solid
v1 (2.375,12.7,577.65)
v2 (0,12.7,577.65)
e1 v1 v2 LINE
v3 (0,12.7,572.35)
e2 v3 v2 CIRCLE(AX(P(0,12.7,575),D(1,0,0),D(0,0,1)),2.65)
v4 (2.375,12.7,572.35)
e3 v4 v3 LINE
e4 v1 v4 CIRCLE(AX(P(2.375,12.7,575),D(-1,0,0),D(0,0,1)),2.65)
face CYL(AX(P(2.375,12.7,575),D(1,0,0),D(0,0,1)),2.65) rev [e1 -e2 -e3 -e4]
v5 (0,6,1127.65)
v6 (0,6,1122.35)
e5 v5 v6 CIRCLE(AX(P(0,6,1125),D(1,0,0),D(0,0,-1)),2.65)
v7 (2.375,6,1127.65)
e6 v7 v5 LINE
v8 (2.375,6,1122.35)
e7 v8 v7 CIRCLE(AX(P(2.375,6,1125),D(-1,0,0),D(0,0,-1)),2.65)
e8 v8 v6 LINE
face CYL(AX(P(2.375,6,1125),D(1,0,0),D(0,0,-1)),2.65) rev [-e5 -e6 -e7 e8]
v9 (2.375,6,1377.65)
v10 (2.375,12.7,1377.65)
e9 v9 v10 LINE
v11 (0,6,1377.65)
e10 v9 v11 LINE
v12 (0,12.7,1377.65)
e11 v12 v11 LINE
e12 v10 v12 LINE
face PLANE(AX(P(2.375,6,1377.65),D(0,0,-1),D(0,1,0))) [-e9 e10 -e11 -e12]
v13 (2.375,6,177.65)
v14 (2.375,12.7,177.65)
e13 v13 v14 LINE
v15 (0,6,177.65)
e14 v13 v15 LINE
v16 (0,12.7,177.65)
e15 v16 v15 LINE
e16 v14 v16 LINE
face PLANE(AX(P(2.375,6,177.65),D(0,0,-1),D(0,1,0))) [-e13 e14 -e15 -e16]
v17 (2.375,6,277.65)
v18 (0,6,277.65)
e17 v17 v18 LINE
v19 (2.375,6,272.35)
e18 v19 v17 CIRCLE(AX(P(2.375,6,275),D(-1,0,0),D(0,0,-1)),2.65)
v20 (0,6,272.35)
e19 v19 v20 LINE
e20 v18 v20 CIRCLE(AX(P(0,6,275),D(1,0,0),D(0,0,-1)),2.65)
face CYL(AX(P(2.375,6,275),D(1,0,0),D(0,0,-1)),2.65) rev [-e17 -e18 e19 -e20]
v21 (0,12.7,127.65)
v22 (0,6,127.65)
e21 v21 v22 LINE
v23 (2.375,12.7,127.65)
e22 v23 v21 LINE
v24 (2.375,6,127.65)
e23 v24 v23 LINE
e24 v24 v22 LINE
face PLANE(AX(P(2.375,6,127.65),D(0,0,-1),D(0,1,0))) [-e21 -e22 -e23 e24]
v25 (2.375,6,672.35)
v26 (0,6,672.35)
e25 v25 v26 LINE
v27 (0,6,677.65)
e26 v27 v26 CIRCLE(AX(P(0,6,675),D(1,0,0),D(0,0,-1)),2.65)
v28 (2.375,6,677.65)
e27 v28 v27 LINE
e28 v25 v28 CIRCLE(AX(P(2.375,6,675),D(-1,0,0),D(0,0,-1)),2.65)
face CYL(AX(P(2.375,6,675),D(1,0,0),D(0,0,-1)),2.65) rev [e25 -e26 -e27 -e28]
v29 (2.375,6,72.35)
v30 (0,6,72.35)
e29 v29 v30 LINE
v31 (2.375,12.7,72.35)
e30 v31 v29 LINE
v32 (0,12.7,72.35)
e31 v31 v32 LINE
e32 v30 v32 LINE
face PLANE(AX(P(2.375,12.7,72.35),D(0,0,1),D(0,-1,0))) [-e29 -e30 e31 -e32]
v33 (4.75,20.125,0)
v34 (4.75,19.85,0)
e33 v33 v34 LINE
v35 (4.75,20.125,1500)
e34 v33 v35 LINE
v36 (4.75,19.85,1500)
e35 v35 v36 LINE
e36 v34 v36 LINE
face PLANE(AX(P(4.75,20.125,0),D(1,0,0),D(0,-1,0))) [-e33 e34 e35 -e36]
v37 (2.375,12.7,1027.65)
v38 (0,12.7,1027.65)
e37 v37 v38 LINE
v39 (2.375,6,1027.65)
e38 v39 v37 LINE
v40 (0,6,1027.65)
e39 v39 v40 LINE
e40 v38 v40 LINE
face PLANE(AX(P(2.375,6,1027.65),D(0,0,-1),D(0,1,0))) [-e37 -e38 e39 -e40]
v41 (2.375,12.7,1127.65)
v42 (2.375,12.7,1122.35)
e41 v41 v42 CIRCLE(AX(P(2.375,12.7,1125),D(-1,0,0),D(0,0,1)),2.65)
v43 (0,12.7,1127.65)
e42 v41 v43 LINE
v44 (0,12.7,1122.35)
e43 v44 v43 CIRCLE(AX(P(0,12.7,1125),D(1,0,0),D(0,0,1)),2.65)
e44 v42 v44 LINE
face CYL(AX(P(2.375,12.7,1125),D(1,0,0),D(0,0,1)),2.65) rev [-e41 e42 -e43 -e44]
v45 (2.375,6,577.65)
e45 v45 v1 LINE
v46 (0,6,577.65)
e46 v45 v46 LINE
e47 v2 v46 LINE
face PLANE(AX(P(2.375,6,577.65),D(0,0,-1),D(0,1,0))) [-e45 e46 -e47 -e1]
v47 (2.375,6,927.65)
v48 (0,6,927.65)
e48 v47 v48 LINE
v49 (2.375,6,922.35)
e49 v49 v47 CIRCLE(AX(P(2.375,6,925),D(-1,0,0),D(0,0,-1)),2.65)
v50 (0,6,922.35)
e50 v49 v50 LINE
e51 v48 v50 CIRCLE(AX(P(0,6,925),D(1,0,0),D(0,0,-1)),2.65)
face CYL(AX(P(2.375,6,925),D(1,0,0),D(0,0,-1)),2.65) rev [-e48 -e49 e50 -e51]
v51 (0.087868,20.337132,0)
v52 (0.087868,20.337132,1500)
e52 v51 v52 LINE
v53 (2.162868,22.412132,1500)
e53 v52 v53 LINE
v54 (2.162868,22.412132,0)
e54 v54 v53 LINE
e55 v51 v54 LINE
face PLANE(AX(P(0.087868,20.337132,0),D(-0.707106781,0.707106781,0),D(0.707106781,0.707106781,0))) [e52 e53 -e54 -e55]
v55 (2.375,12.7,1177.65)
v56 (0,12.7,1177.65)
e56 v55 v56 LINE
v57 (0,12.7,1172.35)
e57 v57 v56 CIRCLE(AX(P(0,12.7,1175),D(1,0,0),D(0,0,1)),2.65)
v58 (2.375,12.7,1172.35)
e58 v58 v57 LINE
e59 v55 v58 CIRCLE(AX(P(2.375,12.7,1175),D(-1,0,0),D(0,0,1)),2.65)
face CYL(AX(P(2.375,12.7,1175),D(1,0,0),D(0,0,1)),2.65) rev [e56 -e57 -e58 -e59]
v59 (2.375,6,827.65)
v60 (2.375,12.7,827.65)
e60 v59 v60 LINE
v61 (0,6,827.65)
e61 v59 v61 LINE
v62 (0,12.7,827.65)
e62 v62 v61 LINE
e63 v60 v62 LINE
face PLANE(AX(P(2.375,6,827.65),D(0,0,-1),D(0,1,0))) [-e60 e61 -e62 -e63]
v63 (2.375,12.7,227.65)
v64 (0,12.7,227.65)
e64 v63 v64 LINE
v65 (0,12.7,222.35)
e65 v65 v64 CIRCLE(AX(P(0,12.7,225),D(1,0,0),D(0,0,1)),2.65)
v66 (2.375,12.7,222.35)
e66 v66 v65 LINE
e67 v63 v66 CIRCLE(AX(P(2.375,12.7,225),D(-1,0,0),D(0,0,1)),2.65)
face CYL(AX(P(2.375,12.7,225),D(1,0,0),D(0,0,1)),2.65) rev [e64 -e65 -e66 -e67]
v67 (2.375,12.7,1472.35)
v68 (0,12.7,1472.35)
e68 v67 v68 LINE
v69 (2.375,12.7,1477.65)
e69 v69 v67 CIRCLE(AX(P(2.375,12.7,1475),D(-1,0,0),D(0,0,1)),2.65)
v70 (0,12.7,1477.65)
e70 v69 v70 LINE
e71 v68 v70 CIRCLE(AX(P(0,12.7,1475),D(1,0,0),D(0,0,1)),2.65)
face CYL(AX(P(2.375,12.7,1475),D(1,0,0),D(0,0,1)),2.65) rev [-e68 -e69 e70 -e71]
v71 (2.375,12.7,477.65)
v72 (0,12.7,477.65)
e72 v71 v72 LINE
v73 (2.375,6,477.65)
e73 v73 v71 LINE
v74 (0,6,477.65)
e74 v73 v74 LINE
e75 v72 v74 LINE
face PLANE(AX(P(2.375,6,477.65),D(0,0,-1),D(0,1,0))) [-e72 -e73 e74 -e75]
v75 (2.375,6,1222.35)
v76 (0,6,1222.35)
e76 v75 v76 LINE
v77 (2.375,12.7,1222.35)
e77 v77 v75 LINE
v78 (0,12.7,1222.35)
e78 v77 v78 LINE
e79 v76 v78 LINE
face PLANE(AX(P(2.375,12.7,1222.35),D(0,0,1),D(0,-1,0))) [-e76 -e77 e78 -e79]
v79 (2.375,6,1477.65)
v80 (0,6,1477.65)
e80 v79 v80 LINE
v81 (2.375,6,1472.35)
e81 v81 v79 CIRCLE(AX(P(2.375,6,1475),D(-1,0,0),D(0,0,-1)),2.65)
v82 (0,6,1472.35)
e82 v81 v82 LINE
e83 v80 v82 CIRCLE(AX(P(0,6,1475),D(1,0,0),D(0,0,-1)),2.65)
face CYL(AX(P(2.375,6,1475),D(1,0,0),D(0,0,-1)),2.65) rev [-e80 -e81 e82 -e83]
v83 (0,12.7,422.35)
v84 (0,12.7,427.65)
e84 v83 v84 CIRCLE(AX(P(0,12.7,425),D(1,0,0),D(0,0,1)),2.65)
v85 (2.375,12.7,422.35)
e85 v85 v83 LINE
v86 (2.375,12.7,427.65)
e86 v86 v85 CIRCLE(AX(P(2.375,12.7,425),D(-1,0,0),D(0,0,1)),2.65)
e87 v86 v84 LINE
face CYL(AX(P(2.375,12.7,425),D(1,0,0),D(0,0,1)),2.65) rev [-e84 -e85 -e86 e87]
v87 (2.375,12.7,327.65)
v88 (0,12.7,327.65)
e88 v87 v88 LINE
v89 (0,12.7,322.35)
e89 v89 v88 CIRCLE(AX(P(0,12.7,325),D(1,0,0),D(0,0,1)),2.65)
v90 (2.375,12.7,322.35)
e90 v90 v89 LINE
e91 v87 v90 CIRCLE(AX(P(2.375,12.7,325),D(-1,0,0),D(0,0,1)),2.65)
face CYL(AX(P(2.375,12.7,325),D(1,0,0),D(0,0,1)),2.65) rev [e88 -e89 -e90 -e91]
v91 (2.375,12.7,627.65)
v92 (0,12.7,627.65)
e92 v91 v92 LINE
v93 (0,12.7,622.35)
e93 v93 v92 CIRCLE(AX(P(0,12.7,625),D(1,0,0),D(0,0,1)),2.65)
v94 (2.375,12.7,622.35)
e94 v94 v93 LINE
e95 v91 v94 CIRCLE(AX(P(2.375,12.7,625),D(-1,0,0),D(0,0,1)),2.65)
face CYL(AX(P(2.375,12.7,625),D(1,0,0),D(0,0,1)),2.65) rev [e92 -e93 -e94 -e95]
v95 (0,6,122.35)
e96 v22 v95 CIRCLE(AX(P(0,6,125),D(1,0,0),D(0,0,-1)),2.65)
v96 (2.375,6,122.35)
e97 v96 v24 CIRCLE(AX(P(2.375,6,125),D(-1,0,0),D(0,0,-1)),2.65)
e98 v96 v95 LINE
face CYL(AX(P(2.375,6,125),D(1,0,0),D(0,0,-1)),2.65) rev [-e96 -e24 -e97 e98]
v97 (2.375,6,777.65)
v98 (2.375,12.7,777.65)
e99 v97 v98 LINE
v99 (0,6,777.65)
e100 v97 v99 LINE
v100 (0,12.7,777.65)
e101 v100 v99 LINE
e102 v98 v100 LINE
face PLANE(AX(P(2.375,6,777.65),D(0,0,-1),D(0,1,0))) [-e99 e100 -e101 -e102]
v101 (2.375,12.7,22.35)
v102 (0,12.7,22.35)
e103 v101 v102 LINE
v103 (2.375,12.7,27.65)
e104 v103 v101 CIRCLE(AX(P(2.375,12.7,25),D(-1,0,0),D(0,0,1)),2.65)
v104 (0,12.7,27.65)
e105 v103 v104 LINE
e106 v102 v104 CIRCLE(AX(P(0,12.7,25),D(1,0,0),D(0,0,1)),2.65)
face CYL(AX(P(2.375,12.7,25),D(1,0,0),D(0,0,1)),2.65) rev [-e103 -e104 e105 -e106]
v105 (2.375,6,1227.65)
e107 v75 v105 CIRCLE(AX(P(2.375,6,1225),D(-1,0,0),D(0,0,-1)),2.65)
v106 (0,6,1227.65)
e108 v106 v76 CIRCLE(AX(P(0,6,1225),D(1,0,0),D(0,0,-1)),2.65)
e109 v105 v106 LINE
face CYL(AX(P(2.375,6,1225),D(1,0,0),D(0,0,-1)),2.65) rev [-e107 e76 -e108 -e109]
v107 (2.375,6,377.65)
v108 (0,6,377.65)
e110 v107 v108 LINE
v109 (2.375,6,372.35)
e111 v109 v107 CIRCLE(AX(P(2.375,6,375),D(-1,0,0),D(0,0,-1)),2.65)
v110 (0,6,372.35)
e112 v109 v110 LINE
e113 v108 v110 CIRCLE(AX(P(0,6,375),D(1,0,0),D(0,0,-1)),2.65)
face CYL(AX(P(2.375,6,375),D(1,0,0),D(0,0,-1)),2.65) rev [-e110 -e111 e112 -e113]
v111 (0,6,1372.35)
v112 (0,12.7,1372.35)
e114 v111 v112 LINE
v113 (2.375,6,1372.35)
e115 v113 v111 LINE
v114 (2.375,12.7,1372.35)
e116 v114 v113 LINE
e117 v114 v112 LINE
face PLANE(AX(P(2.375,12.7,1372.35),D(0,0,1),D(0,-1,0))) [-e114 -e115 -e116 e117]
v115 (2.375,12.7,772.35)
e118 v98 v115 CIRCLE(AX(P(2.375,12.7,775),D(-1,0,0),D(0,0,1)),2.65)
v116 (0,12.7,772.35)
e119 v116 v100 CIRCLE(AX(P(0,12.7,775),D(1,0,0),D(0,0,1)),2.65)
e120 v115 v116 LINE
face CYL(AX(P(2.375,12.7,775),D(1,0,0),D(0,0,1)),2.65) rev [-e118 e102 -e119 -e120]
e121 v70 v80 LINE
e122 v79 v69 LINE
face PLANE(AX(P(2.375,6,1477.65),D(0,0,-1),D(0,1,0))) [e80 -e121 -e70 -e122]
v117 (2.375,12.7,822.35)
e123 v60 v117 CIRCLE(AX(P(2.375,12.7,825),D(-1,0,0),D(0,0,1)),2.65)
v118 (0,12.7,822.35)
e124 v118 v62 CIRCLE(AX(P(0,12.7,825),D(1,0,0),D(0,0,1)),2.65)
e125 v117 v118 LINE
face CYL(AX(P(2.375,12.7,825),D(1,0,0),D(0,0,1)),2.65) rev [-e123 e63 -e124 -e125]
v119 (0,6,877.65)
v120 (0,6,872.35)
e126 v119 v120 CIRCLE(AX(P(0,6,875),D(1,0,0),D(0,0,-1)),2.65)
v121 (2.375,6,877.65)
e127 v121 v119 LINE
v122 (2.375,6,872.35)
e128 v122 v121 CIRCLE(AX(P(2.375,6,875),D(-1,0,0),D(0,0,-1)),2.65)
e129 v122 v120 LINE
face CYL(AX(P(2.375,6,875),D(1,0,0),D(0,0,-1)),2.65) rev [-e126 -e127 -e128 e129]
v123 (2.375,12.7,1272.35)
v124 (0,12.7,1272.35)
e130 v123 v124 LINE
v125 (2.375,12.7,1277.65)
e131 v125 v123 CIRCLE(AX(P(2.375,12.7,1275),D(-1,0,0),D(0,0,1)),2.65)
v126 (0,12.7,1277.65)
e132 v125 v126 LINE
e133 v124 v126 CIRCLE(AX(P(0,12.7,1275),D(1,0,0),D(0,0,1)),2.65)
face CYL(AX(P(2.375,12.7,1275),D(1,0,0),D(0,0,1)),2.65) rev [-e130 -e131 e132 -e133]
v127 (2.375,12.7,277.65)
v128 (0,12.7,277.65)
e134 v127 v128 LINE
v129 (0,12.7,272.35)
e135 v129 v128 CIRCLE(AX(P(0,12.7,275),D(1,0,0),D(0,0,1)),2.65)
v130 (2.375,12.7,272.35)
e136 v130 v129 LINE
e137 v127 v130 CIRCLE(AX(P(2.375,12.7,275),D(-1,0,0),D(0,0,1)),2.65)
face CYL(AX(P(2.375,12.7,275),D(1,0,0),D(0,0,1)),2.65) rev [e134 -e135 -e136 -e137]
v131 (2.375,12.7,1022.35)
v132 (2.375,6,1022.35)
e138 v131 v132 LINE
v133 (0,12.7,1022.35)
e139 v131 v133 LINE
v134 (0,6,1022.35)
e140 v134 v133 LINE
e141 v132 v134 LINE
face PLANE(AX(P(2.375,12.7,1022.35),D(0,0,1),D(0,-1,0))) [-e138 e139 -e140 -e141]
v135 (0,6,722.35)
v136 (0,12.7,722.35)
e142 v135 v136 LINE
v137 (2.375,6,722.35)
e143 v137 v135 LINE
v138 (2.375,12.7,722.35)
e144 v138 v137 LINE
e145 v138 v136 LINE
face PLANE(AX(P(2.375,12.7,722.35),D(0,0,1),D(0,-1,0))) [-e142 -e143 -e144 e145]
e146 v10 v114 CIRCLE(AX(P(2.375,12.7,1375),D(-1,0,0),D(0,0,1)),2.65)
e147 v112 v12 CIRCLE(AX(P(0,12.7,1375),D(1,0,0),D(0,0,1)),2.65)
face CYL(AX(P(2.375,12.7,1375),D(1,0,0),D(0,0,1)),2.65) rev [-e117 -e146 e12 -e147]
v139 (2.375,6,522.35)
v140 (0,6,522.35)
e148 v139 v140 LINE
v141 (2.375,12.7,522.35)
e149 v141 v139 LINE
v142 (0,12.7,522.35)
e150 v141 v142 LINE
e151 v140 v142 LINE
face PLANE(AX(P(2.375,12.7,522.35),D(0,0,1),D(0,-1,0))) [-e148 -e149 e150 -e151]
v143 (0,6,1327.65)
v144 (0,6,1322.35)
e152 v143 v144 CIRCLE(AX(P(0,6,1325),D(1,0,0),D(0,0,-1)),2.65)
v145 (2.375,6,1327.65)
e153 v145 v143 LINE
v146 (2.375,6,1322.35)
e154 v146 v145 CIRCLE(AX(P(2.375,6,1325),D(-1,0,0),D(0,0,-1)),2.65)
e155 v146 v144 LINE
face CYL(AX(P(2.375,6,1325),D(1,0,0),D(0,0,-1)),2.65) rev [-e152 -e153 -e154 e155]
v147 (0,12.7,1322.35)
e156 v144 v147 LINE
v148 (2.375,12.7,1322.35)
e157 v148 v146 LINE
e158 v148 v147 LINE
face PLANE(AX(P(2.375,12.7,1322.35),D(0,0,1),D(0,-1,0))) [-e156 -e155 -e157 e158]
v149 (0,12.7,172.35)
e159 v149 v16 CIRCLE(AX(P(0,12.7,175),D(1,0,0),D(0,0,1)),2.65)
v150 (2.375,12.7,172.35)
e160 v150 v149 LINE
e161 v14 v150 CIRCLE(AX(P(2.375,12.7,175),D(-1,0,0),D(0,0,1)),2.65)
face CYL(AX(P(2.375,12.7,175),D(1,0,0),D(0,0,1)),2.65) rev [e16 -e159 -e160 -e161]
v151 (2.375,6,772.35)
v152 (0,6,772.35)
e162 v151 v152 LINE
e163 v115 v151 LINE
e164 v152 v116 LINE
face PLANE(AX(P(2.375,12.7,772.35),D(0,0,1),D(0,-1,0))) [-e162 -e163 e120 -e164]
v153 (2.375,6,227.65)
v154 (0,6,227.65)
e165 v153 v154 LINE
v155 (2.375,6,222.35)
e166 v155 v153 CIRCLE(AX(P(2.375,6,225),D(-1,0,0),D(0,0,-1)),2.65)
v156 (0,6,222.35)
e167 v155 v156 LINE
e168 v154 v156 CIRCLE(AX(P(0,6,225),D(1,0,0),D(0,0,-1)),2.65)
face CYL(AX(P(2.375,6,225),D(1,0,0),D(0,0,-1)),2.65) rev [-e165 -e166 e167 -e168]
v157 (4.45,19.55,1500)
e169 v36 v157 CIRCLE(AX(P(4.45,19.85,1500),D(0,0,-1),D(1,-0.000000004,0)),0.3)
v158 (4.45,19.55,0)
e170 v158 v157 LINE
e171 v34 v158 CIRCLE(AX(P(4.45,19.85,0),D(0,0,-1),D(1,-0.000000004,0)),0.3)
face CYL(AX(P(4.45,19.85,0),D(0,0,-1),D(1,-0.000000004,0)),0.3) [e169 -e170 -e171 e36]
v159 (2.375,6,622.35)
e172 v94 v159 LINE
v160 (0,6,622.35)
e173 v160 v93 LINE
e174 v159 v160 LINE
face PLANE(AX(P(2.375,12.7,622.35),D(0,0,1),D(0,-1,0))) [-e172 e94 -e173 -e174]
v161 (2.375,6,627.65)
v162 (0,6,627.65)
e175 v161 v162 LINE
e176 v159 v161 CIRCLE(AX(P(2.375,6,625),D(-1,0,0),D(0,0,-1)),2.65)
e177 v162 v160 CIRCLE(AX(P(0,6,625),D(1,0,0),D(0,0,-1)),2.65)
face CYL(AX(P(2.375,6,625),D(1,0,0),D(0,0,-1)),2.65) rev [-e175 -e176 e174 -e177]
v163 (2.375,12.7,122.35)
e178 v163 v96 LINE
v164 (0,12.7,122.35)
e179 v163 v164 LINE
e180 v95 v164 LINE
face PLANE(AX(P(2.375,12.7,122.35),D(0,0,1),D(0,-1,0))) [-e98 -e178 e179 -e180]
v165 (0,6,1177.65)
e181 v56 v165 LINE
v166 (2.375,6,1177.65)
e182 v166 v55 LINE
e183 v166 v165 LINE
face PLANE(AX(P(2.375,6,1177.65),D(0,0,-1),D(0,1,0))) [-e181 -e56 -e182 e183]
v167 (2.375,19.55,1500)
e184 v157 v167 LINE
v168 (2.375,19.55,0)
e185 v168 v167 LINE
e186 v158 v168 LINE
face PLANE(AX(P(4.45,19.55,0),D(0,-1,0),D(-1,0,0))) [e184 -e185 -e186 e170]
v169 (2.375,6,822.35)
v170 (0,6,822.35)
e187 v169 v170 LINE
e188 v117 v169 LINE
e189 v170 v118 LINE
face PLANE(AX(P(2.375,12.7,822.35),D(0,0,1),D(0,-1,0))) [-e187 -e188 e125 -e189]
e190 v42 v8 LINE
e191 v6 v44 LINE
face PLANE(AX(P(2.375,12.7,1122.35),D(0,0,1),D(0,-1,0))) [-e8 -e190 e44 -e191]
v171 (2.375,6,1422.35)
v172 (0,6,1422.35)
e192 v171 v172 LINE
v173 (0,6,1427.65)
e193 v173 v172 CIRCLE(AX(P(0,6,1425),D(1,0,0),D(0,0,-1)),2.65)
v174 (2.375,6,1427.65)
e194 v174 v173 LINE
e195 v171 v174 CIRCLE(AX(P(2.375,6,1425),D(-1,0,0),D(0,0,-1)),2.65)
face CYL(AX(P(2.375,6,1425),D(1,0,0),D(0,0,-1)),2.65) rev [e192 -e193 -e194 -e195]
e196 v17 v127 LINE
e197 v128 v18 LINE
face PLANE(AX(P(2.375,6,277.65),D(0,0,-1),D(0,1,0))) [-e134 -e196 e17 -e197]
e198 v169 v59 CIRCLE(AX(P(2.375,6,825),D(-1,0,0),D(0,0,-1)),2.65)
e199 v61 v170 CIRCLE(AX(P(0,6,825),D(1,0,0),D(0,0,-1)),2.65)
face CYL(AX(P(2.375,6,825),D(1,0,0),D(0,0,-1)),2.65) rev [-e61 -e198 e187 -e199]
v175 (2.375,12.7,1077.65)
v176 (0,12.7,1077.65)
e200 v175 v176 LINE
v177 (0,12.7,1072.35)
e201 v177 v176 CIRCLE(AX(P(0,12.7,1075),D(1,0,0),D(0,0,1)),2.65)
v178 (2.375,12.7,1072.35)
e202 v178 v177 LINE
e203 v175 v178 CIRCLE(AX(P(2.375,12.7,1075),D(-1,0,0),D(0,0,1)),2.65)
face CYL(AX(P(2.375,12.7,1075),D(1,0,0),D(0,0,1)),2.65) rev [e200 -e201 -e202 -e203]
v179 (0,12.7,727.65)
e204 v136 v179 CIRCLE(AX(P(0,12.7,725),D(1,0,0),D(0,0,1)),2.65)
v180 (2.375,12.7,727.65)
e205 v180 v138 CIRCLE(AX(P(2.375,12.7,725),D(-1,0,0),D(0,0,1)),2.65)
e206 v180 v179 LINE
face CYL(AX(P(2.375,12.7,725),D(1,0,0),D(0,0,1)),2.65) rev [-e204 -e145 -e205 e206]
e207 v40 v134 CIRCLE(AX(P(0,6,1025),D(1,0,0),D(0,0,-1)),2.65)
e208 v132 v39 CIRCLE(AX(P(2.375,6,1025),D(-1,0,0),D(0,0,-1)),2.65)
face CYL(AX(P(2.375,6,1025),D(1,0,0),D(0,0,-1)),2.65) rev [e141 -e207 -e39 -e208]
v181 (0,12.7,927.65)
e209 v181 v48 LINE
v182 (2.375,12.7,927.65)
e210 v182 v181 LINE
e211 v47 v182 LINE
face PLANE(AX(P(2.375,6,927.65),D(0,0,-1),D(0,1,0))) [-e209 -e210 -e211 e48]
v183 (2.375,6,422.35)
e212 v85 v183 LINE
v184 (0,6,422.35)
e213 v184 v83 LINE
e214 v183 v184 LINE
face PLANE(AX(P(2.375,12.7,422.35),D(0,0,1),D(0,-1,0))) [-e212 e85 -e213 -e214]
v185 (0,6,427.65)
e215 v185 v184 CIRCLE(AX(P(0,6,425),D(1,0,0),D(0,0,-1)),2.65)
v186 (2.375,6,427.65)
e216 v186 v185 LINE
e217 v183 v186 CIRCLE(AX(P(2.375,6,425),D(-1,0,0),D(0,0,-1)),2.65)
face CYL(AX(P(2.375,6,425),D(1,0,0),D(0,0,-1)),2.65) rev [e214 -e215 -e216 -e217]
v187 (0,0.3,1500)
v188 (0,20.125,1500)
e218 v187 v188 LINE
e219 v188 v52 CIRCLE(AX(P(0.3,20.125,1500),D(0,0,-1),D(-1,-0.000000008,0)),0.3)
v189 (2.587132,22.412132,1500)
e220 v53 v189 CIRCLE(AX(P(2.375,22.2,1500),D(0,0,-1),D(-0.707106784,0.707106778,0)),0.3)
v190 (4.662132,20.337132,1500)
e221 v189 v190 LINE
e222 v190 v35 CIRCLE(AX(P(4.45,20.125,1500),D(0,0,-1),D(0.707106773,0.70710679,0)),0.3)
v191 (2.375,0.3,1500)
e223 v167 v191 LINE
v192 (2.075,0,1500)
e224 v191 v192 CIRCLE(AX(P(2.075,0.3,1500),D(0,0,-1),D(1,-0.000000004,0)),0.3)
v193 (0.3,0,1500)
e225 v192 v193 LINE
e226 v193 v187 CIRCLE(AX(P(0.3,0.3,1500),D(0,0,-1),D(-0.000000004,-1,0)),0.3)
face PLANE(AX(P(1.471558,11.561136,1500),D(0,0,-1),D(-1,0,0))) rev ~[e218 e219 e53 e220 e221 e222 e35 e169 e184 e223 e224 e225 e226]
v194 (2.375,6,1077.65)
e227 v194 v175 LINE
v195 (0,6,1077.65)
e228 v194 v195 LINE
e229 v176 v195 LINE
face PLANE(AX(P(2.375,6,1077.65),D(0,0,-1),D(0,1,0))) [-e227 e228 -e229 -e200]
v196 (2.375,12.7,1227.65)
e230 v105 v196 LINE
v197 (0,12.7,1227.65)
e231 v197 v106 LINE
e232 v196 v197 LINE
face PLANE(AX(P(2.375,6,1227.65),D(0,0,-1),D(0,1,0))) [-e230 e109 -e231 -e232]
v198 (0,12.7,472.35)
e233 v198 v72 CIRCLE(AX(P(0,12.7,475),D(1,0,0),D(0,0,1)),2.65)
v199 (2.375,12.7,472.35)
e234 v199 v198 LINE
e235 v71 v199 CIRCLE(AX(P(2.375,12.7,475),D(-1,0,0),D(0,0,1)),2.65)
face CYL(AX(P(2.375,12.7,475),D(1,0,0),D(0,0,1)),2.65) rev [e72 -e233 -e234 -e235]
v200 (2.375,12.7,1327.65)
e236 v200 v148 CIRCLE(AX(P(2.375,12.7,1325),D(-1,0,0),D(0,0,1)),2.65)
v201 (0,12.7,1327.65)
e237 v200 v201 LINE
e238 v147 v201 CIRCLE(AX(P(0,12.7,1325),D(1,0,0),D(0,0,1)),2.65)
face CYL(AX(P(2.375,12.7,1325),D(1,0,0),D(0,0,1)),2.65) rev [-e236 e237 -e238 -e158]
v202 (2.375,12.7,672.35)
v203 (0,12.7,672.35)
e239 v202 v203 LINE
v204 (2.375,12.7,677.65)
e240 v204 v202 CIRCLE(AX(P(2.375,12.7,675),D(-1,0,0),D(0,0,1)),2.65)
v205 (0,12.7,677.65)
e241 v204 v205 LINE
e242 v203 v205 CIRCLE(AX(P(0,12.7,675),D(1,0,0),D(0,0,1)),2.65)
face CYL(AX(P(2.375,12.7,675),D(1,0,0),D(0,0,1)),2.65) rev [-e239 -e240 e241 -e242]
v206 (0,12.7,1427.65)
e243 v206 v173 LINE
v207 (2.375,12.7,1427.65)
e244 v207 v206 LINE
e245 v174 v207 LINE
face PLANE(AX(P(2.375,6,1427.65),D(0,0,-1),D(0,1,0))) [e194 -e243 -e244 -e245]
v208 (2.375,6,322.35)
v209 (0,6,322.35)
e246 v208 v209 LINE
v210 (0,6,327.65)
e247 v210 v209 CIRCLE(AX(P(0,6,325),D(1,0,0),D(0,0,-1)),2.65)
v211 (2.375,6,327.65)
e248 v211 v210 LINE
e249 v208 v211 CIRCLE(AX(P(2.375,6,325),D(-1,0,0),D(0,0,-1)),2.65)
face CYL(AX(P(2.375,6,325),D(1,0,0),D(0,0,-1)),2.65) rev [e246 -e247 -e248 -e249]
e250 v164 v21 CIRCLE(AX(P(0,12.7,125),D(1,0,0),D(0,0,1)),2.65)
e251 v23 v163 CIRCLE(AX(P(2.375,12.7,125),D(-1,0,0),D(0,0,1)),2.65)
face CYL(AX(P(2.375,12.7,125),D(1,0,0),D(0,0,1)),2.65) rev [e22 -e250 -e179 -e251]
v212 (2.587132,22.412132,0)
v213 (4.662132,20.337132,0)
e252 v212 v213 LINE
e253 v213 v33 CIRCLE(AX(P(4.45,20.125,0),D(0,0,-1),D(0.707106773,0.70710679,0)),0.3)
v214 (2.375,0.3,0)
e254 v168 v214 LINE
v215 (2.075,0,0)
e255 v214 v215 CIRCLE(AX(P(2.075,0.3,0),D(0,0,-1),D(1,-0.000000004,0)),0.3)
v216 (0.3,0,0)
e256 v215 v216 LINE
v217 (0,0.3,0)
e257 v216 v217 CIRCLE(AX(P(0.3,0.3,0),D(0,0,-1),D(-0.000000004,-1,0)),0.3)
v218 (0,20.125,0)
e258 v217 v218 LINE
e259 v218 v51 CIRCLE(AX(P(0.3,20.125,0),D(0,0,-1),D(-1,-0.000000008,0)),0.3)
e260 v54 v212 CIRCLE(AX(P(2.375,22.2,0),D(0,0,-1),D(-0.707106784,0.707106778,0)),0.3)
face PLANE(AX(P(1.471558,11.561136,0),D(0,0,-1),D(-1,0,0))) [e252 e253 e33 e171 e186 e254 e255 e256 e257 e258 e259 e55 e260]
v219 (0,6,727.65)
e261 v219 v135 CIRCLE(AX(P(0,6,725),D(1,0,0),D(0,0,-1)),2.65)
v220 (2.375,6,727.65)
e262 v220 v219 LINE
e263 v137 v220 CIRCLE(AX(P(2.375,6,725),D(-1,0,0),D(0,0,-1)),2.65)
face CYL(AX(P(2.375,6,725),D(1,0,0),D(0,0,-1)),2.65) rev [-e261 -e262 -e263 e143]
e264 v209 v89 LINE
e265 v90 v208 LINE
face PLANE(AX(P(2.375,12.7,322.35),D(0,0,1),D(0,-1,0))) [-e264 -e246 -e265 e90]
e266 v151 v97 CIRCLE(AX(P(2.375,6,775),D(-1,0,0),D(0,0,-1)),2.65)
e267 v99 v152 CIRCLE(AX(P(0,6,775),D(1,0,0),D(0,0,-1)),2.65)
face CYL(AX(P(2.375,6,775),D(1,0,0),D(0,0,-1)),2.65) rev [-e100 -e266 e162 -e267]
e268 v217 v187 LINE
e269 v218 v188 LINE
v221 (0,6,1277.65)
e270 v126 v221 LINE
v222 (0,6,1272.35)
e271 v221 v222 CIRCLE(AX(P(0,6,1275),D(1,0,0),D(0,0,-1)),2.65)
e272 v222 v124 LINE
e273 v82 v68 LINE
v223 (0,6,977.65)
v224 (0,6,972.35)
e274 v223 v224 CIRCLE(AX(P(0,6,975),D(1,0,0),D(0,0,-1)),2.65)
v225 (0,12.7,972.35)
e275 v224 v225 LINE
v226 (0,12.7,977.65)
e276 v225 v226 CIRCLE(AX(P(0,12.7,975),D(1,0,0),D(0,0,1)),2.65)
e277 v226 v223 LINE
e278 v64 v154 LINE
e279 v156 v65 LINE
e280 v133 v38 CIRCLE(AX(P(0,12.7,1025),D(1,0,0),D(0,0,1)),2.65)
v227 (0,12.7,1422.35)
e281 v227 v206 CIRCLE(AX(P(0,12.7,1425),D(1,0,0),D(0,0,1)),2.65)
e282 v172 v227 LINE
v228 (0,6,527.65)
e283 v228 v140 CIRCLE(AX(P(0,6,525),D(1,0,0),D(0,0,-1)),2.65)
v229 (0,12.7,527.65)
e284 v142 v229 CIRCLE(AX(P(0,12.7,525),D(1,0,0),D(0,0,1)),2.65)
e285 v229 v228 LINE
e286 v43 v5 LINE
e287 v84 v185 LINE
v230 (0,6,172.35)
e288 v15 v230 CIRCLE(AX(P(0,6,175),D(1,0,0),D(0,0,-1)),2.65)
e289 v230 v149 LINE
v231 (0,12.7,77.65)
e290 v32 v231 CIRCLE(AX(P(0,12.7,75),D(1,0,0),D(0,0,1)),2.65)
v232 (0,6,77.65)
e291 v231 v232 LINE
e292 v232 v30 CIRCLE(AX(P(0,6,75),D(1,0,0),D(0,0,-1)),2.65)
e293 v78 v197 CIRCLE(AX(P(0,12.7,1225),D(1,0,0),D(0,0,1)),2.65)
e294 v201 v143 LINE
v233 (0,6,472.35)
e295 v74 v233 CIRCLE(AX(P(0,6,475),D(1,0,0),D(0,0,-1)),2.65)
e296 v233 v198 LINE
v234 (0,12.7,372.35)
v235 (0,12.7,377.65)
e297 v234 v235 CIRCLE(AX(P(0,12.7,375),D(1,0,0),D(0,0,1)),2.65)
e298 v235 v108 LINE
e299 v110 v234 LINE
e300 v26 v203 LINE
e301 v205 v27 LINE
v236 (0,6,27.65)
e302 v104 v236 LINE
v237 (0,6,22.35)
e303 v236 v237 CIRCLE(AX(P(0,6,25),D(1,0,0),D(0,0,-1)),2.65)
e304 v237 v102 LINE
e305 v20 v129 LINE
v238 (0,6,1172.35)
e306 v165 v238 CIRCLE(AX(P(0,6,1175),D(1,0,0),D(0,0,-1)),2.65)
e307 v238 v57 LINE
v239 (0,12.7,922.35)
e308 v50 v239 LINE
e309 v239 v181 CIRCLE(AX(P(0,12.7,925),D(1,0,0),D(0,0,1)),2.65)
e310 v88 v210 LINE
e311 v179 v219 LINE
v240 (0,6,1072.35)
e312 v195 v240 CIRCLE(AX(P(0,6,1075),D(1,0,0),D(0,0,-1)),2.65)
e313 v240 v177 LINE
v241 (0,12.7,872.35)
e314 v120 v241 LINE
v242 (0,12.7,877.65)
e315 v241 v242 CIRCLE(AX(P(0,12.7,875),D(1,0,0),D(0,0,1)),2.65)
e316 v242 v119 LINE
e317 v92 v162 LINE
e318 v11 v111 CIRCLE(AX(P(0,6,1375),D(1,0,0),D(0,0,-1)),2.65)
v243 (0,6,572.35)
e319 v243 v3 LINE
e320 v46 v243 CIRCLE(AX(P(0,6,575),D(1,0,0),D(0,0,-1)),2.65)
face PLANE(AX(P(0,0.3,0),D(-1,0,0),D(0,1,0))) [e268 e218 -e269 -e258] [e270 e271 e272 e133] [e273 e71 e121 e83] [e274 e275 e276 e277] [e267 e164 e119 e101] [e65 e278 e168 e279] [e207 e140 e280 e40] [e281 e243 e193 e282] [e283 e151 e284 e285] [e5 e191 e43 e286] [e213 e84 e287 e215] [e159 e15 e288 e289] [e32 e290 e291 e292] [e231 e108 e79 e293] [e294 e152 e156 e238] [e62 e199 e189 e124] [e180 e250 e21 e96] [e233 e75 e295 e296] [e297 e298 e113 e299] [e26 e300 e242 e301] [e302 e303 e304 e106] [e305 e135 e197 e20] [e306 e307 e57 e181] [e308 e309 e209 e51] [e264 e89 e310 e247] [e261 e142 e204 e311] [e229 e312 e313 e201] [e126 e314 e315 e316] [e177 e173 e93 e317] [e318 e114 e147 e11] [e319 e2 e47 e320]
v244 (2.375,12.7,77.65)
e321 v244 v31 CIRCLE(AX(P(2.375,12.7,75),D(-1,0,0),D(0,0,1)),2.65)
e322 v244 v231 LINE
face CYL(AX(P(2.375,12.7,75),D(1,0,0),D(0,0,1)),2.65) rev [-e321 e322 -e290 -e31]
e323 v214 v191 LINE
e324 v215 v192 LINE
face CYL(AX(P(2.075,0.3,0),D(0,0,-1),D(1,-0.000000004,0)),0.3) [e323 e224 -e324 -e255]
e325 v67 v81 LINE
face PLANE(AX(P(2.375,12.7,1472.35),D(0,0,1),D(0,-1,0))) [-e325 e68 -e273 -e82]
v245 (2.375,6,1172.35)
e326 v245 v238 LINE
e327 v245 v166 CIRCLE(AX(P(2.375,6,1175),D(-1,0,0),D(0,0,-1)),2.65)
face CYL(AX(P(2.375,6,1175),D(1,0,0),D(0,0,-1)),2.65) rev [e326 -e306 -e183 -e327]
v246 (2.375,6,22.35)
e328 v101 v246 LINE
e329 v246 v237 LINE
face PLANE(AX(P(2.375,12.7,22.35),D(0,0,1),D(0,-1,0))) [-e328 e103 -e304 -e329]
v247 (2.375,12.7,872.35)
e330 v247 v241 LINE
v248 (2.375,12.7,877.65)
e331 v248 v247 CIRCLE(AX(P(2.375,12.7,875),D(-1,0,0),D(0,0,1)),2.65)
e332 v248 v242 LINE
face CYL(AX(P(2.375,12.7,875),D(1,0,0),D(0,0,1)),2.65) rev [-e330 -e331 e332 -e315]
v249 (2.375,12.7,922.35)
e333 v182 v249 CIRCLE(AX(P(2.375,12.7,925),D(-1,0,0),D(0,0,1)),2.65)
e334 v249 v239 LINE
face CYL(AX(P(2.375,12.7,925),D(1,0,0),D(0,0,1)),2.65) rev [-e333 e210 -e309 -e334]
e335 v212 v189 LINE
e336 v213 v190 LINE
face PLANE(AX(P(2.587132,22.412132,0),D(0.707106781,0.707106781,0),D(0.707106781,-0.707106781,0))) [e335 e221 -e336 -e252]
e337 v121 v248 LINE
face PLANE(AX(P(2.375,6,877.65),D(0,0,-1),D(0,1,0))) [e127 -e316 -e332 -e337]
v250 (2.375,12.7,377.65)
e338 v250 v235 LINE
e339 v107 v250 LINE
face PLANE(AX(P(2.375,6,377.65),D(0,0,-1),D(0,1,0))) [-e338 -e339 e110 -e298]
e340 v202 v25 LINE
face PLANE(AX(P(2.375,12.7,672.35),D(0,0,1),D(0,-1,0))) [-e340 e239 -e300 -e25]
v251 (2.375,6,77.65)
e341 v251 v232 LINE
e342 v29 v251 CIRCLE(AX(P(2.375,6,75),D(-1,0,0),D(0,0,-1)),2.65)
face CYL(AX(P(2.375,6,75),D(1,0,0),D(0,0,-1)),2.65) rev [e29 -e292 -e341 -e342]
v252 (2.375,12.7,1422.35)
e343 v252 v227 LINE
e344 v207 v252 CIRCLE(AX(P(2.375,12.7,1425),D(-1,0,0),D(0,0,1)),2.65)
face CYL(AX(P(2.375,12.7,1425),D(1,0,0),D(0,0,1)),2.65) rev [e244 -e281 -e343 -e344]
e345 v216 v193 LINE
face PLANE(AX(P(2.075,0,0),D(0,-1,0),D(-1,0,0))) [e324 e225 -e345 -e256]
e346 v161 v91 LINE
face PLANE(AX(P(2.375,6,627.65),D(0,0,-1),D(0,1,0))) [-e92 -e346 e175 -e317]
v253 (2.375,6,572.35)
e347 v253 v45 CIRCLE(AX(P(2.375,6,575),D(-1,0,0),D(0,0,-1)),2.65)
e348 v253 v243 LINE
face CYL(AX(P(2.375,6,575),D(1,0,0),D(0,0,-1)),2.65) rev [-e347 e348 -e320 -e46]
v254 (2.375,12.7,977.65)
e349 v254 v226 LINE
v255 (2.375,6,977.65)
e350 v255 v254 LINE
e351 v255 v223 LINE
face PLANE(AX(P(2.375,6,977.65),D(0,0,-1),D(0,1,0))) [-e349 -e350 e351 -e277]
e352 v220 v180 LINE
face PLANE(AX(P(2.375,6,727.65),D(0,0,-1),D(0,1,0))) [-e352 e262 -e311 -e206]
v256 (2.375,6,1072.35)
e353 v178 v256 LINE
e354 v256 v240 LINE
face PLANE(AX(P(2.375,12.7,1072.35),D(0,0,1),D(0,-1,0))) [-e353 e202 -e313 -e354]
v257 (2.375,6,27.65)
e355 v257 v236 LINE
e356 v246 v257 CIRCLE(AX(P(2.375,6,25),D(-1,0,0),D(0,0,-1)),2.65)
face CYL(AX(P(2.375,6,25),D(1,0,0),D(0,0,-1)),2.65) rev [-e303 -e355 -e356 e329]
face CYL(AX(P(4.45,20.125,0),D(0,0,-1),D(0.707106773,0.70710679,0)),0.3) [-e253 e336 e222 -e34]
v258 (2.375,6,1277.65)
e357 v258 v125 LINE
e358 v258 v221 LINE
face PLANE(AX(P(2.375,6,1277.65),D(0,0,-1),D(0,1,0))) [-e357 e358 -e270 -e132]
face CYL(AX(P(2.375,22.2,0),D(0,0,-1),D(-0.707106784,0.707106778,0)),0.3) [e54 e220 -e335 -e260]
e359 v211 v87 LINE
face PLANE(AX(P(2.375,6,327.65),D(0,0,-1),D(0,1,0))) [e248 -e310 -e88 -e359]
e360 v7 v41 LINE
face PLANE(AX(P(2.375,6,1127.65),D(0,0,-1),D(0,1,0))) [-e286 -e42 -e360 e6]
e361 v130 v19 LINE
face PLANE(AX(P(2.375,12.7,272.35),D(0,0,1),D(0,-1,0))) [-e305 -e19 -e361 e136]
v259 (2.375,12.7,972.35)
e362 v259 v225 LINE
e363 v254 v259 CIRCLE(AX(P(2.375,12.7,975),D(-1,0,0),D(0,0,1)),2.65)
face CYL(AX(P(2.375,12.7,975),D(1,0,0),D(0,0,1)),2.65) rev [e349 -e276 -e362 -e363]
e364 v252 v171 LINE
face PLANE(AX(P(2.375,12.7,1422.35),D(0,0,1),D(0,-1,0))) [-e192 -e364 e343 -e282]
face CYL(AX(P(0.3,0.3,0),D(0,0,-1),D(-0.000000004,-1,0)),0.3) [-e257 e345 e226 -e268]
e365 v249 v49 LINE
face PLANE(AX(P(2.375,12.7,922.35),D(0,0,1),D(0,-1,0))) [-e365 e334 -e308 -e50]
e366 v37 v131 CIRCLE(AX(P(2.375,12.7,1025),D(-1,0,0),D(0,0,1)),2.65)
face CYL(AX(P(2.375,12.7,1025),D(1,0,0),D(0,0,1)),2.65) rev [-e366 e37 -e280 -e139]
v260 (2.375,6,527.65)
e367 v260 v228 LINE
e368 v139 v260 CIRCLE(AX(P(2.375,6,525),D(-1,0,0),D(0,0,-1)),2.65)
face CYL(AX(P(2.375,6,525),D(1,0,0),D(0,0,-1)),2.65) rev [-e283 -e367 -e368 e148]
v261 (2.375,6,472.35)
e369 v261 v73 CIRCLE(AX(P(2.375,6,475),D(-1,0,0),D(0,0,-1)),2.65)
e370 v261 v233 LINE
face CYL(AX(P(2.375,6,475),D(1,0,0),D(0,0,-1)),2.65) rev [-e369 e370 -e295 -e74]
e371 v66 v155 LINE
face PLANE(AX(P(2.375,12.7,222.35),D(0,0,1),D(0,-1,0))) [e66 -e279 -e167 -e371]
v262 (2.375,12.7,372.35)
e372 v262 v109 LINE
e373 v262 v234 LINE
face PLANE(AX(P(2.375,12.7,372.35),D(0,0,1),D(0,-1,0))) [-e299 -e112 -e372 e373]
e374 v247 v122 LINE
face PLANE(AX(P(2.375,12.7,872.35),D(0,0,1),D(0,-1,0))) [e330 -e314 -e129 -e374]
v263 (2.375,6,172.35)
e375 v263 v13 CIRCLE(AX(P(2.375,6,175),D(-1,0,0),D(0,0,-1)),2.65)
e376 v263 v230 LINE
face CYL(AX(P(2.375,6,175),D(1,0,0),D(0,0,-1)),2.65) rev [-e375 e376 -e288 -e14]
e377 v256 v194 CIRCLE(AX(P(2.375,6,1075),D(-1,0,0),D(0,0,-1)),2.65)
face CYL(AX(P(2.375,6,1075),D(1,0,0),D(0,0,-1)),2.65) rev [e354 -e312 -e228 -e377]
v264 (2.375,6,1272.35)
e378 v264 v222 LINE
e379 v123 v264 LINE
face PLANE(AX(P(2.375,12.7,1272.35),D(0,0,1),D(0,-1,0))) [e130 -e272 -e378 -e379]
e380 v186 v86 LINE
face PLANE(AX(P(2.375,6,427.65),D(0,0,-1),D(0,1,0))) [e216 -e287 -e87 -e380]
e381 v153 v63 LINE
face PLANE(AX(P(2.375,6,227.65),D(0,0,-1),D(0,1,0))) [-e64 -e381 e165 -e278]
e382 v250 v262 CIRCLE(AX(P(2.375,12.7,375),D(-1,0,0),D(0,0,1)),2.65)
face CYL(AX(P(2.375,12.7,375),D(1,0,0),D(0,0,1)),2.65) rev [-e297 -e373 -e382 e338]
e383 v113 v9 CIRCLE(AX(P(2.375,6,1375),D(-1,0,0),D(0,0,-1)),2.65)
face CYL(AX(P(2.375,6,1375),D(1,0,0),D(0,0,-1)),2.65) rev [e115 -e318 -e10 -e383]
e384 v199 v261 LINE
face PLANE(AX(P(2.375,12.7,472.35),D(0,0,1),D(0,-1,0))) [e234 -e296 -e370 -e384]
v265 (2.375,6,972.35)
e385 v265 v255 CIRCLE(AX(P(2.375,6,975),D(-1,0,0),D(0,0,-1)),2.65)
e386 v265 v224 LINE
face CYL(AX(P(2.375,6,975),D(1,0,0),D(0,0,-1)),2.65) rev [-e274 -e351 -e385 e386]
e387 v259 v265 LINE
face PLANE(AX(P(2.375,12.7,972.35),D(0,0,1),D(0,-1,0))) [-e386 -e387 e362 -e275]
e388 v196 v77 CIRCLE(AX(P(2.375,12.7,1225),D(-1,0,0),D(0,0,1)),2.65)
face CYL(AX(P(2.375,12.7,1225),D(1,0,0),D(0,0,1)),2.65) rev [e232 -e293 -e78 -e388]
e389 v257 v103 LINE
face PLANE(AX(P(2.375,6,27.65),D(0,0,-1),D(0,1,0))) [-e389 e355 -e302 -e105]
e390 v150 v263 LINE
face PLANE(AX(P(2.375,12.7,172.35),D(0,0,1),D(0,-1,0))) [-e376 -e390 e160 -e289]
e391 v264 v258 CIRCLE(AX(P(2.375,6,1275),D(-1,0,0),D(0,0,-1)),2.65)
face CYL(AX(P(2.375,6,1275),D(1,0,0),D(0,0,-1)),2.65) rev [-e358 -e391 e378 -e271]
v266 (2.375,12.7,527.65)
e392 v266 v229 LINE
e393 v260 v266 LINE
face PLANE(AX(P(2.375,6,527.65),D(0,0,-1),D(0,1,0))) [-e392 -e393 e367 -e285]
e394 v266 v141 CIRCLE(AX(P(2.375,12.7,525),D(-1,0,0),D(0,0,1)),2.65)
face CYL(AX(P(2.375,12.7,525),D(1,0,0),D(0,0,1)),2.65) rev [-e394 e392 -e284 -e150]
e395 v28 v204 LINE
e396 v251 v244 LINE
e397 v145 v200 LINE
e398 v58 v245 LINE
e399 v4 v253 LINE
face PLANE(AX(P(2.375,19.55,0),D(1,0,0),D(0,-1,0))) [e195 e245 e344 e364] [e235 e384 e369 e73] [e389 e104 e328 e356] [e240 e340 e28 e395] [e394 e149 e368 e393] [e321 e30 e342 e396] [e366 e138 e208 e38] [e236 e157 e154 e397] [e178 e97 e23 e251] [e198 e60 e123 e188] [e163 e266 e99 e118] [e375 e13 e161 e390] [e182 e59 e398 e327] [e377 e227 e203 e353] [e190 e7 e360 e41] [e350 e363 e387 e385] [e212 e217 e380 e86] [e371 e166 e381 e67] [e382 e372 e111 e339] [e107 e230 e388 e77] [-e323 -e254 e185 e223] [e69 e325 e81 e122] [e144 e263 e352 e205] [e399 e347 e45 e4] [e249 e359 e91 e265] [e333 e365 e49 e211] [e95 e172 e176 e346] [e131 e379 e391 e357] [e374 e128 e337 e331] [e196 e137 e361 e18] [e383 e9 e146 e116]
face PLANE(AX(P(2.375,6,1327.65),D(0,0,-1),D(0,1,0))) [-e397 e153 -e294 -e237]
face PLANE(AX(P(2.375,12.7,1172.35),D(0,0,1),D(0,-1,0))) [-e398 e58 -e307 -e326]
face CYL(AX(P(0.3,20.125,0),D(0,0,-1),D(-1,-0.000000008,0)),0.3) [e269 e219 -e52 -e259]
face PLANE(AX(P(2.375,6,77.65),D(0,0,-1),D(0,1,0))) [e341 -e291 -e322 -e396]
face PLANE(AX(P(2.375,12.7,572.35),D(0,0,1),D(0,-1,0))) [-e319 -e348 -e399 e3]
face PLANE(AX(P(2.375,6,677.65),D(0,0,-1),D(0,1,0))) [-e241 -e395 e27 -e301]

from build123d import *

# Parameters (mm, degrees)
BOSS_EXTRUDE1_DEPTH = 1500
CUT_EXTRUDE1_DEPTH  = 3.375
LPATTERN1_COUNT     = 30
LPATTERN1_PITCH     = 50


with BuildPart() as part:
    # Sketch1 → Boss-Extrude1 (new body)
    with BuildSketch(Plane.XY):
        with BuildLine():
            Line((0, 0.3), (0, 20.125))
            ThreePointArc((0, 20.125), (0.02283614, 20.23980503), (0.087867966, 20.337132034))
            Line((0.087867966, 20.337132034), (2.162867966, 22.412132034))
            ThreePointArc((2.162867966, 22.412132034), (2.375, 22.5), (2.587132034, 22.412132034))
            Line((2.587132034, 22.412132034), (4.662132034, 20.337132034))
            ThreePointArc((4.662132034, 20.337132034), (4.72716386, 20.23980503), (4.75, 20.125))
            Line((4.75, 20.125), (4.75, 19.85))
            ThreePointArc((4.75, 19.85), (4.662132034, 19.637867966), (4.45, 19.55))
            Line((4.45, 19.55), (2.375, 19.55))
            Line((2.375, 19.55), (2.375, 0.3))
            ThreePointArc((2.375, 0.3), (2.287132034, 0.087867966), (2.075, 0))
            Line((2.075, 0), (0.3, 0))
            ThreePointArc((0.3, 0), (0.087867966, 0.087867966), (0, 0.3))
        make_face()
    extrude(amount=BOSS_EXTRUDE1_DEPTH)

    # Sketch2 → Cut-Extrude1 (cut, through all)
    with BuildSketch(Plane(origin=(2.375, 0, 0), x_dir=(0, 0, -1), z_dir=(1, 0, 0))):
        with BuildLine():
            Line((-22.35, 12.7), (-22.35, 6))
            ThreePointArc((-22.35, 6), (-25, 3.35), (-27.65, 6))
            Line((-27.65, 6), (-27.65, 12.7))
            ThreePointArc((-27.65, 12.7), (-25, 15.35), (-22.35, 12.7))
        make_face()
    cut_extrude1 = extrude(amount=-CUT_EXTRUDE1_DEPTH, mode=Mode.SUBTRACT)

    # LPattern1: Cut-Extrude1 ×30
    with Locations(*[(0, 0, i * LPATTERN1_PITCH) for i in range(1, LPATTERN1_COUNT)]):
        add(cut_extrude1, mode=Mode.SUBTRACT)


solid = part.part
